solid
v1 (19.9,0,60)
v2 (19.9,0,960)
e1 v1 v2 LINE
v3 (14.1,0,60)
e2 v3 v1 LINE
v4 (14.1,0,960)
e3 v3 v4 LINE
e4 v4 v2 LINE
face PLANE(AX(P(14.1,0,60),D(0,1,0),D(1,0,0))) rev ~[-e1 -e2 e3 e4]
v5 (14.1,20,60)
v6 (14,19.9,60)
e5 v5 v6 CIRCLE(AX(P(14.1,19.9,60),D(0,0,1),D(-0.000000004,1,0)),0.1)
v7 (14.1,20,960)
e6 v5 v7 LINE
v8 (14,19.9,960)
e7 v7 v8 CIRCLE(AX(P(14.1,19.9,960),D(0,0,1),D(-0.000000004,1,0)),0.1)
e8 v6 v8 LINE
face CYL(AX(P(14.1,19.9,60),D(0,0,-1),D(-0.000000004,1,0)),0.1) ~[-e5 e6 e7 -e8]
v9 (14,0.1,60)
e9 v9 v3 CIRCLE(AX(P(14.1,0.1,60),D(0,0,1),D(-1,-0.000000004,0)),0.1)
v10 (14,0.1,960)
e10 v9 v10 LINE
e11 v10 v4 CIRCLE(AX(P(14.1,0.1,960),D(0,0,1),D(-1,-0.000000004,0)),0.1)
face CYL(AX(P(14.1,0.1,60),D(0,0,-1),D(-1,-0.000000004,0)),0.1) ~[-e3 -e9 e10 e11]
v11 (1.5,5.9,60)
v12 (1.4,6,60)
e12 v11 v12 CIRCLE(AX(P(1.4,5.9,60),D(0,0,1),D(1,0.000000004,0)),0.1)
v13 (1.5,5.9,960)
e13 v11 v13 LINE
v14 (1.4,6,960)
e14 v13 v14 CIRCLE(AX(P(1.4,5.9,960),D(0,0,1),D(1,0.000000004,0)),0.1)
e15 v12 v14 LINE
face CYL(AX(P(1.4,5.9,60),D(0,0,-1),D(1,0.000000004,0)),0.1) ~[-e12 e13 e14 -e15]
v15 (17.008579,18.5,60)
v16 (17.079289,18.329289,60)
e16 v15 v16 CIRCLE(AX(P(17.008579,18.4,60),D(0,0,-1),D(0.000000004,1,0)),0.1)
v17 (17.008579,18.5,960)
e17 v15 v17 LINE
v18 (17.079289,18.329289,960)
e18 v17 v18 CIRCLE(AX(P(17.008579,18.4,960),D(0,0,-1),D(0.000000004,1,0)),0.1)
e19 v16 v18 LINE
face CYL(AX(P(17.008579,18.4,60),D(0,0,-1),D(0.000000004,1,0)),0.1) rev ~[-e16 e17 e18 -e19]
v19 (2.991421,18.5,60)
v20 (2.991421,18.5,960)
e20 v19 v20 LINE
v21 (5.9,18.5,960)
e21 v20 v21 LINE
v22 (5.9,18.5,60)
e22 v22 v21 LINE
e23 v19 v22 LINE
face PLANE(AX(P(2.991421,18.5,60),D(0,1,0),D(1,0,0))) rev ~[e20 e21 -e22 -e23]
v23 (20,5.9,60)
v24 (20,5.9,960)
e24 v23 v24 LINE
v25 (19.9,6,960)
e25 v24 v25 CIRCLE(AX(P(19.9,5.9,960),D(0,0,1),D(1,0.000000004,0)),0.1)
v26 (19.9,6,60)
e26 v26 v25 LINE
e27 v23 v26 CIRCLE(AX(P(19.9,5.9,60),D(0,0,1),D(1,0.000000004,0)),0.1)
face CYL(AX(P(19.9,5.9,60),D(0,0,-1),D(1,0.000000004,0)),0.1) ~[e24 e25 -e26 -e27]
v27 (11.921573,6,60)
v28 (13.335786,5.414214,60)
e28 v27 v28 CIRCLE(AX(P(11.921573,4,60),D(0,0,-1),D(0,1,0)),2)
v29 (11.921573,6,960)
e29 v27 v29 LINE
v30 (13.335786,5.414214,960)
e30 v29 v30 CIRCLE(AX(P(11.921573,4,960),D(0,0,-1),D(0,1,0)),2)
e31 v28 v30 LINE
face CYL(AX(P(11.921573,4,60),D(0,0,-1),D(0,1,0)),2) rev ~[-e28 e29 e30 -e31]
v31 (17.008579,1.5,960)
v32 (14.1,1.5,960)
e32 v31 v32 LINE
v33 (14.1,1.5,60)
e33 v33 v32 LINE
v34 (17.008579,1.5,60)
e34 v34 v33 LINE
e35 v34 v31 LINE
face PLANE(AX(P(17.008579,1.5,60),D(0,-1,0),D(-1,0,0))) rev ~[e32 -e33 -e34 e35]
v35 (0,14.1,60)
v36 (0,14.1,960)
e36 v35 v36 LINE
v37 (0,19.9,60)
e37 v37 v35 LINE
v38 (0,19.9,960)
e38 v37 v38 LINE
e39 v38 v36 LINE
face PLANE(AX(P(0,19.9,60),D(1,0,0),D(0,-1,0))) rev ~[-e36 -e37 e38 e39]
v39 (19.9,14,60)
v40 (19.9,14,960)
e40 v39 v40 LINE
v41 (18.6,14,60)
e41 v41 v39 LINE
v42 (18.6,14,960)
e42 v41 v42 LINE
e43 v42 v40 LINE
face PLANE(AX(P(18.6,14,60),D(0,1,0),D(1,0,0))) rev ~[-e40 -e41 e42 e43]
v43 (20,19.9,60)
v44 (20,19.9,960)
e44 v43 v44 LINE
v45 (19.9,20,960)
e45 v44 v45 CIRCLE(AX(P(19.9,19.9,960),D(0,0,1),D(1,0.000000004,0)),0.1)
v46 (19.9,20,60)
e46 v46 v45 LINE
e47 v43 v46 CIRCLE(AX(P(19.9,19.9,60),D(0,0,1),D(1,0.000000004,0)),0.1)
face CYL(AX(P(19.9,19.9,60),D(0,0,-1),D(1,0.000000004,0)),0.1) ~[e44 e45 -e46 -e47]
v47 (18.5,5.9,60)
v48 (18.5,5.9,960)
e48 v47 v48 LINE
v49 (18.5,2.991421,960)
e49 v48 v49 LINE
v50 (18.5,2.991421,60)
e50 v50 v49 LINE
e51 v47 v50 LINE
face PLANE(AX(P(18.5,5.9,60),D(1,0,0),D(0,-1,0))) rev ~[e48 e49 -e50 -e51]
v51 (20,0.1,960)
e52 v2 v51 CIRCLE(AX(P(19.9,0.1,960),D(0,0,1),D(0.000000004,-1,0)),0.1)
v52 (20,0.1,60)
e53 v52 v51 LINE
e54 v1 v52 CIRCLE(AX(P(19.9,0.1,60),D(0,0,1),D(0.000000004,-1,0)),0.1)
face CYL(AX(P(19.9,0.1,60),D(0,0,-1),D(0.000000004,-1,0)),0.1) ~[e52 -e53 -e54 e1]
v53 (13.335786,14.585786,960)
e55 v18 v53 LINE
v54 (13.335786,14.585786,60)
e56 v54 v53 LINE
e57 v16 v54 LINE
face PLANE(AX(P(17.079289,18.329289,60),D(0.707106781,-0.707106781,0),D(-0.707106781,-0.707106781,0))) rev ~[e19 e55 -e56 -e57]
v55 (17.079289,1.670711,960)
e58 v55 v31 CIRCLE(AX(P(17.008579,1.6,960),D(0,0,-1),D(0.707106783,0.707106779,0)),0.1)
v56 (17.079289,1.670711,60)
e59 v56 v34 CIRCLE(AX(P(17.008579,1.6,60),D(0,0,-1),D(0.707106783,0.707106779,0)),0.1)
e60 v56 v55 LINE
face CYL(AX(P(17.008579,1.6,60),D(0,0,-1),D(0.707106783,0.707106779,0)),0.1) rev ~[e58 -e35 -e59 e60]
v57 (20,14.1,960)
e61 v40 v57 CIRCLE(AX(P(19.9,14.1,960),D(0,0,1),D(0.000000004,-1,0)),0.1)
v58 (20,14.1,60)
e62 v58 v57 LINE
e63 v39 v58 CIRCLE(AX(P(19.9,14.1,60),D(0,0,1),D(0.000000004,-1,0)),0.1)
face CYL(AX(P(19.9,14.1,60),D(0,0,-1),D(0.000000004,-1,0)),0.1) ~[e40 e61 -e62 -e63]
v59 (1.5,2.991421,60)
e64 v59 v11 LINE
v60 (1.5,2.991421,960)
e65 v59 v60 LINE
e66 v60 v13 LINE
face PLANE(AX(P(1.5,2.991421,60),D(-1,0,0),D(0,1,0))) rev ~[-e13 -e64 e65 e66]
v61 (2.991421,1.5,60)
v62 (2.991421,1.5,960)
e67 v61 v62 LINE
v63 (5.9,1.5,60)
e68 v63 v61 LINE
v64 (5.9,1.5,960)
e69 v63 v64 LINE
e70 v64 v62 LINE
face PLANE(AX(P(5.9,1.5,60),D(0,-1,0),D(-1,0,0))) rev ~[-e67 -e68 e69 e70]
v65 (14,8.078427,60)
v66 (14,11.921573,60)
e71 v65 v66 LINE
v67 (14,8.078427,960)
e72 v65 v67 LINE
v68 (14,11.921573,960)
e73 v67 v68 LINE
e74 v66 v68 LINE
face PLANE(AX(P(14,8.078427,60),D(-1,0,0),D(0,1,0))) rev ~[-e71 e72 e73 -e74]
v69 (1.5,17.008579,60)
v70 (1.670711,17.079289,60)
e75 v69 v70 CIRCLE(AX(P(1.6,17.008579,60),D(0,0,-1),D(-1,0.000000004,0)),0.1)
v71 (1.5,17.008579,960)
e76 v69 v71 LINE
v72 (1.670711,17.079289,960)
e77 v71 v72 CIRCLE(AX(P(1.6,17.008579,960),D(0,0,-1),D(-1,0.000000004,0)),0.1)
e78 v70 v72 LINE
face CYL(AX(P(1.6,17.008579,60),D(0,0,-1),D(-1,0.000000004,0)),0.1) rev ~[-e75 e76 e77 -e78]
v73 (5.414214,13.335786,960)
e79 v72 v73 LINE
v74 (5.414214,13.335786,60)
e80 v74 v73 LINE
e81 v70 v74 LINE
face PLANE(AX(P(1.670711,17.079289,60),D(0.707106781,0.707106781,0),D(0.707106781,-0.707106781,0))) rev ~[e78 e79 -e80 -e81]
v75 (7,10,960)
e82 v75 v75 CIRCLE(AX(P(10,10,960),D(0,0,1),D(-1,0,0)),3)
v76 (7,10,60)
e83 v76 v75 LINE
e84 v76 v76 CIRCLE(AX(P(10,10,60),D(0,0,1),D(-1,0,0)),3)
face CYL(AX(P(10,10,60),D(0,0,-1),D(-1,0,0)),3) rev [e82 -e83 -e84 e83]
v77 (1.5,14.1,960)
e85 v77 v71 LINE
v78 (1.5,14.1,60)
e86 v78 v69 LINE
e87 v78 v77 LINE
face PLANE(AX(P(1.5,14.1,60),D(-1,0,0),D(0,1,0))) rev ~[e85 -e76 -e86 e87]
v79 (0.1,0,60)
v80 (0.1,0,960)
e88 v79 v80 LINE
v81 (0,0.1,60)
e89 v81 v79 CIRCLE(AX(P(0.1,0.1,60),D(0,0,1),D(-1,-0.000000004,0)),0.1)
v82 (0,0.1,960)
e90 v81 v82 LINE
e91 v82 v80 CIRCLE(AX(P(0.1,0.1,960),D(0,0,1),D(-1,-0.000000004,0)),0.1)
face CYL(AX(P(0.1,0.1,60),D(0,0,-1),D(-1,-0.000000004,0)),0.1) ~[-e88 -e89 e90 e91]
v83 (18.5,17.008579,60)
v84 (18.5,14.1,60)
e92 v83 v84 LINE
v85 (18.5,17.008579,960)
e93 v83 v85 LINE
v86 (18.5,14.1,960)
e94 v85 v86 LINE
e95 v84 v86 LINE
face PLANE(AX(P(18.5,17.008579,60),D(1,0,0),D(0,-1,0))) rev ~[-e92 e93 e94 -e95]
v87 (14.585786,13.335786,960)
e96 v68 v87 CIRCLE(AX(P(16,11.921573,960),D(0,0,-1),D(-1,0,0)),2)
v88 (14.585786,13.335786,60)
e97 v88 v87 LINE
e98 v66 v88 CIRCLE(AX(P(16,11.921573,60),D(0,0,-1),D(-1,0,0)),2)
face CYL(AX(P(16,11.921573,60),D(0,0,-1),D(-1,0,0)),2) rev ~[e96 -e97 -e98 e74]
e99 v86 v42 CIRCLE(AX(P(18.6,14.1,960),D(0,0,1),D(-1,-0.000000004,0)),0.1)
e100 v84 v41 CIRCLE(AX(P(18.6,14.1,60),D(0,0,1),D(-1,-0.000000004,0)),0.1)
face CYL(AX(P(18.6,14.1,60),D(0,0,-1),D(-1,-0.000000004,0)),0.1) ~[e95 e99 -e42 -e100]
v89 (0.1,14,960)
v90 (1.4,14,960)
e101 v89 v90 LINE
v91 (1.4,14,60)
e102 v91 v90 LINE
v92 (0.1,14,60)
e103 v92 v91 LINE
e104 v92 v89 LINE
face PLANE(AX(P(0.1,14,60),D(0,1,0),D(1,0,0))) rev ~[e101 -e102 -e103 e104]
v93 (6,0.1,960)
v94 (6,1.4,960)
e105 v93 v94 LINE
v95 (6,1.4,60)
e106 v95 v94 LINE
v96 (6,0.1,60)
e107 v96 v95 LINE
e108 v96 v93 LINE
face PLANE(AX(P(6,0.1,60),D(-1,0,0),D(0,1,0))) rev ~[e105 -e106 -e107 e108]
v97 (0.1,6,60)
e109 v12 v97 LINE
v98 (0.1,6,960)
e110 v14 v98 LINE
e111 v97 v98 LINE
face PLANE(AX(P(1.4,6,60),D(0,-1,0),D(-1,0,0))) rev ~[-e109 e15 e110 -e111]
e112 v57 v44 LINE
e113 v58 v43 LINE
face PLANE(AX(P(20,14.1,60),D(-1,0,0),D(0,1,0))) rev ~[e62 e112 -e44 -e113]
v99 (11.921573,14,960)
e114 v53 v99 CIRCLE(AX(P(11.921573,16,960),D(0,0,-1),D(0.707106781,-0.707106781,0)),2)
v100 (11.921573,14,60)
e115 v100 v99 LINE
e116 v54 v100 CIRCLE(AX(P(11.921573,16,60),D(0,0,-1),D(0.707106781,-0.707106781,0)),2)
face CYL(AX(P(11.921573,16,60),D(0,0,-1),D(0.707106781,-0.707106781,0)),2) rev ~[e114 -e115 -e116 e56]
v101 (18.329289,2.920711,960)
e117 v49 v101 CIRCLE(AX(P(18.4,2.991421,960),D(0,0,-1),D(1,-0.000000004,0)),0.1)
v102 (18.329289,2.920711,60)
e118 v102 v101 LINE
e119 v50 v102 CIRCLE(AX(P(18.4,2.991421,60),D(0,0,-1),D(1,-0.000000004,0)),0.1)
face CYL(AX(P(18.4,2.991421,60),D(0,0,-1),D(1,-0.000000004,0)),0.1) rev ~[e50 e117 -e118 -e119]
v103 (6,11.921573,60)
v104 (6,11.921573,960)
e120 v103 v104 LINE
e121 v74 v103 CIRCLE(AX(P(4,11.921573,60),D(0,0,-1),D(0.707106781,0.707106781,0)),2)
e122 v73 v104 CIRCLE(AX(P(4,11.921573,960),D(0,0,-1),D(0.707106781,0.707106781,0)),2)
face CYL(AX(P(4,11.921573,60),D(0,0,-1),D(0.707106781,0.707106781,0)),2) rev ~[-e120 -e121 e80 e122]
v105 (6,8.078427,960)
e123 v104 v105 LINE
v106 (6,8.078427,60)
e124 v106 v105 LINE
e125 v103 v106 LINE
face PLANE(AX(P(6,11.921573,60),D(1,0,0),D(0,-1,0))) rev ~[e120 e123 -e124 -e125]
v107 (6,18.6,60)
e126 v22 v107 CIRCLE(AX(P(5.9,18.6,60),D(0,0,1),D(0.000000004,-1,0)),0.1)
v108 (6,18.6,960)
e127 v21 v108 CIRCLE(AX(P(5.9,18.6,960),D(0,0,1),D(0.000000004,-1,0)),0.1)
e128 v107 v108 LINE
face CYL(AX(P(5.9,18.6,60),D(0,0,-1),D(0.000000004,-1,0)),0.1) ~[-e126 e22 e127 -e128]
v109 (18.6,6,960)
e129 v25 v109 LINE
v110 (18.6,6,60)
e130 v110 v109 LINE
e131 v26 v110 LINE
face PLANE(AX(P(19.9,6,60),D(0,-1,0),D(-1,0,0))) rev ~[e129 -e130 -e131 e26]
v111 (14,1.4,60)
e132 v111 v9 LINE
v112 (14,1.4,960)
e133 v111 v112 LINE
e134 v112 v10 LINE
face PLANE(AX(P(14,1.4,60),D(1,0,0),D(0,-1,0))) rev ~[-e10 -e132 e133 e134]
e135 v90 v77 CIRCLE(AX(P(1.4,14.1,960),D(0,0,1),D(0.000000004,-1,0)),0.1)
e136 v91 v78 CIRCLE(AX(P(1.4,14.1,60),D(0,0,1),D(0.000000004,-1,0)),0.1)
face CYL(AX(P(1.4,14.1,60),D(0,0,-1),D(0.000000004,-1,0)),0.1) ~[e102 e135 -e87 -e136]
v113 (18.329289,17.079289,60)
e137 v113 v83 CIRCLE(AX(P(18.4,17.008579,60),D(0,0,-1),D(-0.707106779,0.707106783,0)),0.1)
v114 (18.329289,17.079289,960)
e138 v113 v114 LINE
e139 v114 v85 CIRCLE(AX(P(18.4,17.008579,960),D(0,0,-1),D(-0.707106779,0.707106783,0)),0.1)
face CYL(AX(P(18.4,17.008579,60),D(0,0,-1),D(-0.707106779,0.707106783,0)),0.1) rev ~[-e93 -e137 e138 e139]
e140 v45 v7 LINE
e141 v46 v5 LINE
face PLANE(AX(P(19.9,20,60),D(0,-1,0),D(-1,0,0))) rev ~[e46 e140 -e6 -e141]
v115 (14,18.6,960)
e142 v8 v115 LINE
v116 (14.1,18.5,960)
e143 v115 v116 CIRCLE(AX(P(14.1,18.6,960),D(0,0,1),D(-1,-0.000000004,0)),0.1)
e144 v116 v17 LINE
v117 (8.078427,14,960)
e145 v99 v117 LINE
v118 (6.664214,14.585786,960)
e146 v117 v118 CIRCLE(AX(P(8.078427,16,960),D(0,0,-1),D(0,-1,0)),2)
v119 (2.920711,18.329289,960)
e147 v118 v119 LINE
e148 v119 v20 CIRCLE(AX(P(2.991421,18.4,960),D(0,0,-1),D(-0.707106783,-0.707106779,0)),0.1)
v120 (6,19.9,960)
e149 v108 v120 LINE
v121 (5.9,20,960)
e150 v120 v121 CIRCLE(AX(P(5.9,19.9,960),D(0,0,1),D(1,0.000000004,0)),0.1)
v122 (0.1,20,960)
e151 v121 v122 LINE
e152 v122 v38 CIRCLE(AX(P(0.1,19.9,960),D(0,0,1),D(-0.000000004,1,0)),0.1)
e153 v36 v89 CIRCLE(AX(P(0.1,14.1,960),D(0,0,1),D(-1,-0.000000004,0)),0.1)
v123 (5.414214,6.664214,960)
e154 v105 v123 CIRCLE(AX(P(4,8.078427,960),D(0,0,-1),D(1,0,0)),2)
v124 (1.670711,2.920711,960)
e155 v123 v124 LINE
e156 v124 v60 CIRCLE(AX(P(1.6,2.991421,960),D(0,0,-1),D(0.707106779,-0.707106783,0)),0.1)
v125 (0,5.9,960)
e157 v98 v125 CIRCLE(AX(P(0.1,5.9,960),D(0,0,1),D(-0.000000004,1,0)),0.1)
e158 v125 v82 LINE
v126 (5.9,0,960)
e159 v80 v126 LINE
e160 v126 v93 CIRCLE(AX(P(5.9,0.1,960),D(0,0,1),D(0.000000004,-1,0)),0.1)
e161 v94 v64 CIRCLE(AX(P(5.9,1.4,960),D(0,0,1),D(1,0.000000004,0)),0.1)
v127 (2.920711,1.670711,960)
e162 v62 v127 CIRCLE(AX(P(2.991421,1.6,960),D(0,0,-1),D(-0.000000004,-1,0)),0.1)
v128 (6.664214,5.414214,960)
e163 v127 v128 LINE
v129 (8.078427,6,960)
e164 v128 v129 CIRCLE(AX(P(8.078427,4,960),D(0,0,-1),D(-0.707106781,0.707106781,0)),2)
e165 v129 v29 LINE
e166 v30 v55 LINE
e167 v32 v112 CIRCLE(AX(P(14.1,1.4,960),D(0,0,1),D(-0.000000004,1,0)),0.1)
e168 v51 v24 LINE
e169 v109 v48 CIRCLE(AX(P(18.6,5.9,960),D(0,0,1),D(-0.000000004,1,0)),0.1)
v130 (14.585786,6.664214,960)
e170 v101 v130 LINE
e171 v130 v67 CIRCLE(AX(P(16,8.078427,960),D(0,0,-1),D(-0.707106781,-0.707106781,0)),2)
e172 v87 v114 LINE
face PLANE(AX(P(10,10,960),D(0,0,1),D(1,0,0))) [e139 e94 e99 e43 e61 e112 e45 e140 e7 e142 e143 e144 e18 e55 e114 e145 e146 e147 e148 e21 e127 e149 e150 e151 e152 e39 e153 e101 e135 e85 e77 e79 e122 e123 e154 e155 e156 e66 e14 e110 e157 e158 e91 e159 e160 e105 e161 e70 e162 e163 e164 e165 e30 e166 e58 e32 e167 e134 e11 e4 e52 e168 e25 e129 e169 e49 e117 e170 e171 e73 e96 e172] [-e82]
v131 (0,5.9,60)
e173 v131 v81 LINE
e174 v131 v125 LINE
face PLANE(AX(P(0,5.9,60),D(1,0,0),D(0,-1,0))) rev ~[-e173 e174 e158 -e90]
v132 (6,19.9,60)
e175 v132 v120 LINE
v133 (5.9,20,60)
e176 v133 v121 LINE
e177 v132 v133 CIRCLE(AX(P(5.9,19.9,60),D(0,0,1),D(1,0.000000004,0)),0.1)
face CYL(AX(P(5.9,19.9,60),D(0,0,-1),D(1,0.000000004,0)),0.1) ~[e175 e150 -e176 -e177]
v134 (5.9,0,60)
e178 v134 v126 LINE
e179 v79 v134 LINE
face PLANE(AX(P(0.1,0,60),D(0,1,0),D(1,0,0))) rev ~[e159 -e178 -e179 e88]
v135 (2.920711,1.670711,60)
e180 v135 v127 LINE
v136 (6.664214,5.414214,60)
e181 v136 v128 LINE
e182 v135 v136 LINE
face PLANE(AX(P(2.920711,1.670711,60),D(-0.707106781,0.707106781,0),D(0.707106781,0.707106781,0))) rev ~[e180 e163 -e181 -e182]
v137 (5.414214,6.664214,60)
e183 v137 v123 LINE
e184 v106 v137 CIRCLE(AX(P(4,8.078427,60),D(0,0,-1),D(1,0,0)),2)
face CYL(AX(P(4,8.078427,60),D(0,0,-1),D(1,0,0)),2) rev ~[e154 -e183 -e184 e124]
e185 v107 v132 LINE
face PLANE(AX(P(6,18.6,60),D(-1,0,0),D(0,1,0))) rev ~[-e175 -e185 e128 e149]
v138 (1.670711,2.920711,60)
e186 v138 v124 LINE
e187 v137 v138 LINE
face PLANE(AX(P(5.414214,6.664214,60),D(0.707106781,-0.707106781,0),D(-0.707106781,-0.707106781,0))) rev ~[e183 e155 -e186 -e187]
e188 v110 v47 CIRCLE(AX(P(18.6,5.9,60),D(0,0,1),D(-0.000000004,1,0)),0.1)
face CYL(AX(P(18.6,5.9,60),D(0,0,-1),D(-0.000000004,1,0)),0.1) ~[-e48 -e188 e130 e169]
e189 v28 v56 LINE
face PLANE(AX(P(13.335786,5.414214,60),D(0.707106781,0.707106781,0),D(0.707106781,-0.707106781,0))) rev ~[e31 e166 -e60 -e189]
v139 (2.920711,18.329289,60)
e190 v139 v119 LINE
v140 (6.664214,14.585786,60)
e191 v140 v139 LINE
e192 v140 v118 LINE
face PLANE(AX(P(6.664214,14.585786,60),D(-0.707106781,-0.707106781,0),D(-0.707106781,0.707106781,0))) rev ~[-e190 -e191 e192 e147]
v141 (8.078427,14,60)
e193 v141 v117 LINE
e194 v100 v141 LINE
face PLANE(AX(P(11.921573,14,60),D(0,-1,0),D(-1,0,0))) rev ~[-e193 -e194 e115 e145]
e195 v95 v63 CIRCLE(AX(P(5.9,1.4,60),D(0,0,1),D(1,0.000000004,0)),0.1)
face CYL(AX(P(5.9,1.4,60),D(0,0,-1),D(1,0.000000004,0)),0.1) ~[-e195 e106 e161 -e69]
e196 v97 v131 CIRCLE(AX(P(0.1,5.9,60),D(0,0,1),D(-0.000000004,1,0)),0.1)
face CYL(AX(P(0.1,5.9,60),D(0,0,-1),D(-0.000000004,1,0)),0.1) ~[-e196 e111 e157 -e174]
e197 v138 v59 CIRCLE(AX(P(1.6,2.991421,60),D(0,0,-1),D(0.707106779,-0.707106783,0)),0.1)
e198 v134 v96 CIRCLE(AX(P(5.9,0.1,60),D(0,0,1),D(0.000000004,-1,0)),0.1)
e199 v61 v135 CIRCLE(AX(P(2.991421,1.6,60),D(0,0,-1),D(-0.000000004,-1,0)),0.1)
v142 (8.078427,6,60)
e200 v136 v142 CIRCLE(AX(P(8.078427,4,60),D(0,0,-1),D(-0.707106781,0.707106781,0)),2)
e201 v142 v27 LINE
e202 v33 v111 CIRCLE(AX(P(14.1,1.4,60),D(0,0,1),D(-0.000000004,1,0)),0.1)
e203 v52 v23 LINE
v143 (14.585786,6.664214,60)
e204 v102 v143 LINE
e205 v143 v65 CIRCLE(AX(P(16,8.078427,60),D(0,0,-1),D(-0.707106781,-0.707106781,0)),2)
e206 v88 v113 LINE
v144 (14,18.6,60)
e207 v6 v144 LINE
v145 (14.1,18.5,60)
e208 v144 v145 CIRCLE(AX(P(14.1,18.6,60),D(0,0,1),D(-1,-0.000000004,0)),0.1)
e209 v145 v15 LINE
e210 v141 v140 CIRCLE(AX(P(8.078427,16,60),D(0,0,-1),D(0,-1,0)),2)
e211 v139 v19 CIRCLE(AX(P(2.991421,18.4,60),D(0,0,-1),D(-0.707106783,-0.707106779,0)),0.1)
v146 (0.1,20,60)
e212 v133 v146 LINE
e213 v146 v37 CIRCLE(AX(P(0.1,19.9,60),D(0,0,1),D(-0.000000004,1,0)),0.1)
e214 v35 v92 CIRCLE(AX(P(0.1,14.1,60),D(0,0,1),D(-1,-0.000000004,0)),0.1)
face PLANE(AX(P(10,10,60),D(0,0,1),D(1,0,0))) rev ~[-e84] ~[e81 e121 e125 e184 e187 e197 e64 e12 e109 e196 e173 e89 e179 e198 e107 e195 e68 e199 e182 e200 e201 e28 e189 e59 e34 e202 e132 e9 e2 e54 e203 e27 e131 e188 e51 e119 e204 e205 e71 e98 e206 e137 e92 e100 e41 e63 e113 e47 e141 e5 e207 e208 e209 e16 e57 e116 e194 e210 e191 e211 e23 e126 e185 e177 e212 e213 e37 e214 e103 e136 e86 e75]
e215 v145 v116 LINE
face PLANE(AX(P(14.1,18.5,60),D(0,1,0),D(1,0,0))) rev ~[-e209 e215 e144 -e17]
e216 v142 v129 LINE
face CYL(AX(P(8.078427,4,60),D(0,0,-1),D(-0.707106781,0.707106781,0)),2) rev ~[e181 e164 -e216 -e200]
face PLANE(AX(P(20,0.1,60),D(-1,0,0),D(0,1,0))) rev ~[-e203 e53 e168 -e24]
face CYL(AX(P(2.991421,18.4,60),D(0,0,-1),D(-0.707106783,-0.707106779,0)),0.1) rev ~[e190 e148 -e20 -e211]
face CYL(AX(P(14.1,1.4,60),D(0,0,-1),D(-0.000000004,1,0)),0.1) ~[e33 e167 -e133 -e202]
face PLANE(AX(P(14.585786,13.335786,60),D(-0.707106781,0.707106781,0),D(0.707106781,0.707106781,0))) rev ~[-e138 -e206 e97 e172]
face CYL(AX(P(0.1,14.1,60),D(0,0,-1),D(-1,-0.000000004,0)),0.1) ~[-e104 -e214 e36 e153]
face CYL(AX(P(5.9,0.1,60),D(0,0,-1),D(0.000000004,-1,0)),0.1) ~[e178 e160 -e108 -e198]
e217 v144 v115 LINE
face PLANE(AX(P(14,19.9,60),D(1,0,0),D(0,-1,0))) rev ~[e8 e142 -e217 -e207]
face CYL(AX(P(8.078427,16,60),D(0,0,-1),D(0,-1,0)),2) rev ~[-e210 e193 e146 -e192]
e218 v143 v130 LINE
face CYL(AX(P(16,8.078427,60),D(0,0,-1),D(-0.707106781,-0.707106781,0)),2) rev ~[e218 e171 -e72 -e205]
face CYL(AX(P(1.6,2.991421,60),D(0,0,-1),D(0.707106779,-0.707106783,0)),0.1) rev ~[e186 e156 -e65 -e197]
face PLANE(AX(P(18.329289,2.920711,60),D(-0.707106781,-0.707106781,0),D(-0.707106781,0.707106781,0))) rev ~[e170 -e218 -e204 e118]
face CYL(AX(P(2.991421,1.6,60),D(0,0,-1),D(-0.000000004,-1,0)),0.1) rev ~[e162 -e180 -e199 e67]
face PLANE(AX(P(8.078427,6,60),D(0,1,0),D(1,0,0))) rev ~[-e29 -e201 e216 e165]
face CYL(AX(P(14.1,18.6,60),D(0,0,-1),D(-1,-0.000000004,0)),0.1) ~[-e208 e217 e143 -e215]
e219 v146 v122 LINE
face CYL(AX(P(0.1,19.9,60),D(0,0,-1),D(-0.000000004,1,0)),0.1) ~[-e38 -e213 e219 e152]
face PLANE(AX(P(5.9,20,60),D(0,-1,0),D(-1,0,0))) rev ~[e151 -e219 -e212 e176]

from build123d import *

# Parameters (mm, degrees)
SKETCH1_R           = 3
BOSS_EXTRUDE2_DEPTH = 900


with BuildPart() as part:
    # Sketch1 → Boss-Extrude2 (new body)
    with BuildSketch(Plane.XY.offset(60)):
        with BuildLine():
            Line((18.5, 17.008578644), (18.5, 14.1))
            ThreePointArc((18.5, 14.1), (18.529289322, 14.029289322), (18.6, 14))
            Line((18.6, 14), (19.9, 14))
            ThreePointArc((19.9, 14), (19.970710678, 14.029289322), (20, 14.1))
            Line((20, 14.1), (20, 19.9))
            ThreePointArc((20, 19.9), (19.970710678, 19.970710678), (19.9, 20))
            Line((19.9, 20), (14.1, 20))
            ThreePointArc((14.1, 20), (14.029289322, 19.970710678), (14, 19.9))
            Line((14, 19.9), (14, 18.6))
            ThreePointArc((14, 18.6), (14.029289322, 18.529289322), (14.1, 18.5))
            Line((14.1, 18.5), (17.008578644, 18.5))
            ThreePointArc((17.008578644, 18.5), (17.100966597, 18.438268343), (17.079289322, 18.329289322))
            Line((17.079289322, 18.329289322), (13.335786438, 14.585786438))
            ThreePointArc((13.335786438, 14.585786438), (12.68693974, 14.152240935), (11.921572875, 14))
            Line((11.921572875, 14), (8.078427125, 14))
            ThreePointArc((8.078427125, 14), (7.31306026, 14.152240935), (6.664213562, 14.585786438))
            Line((6.664213562, 14.585786438), (2.920710678, 18.329289322))
            ThreePointArc((2.920710678, 18.329289322), (2.899033403, 18.438268343), (2.991421356, 18.5))
            Line((2.991421356, 18.5), (5.9, 18.5))
            ThreePointArc((5.9, 18.5), (5.970710678, 18.529289322), (6, 18.6))
            Line((6, 18.6), (6, 19.9))
            ThreePointArc((6, 19.9), (5.970710678, 19.970710678), (5.9, 20))
            Line((5.9, 20), (0.1, 20))
            ThreePointArc((0.1, 20), (0.029289322, 19.970710678), (0, 19.9))
            Line((0, 19.9), (0, 14.1))
            ThreePointArc((0, 14.1), (0.029289322, 14.029289322), (0.1, 14))
            Line((0.1, 14), (1.4, 14))
            ThreePointArc((1.4, 14), (1.470710678, 14.029289322), (1.5, 14.1))
            Line((1.5, 14.1), (1.5, 17.008578644))
            ThreePointArc((1.5, 17.008578644), (1.561731657, 17.100966597), (1.670710678, 17.079289322))
            Line((1.670710678, 17.079289322), (5.414213562, 13.335786438))
            ThreePointArc((5.414213562, 13.335786438), (5.847759065, 12.68693974), (6, 11.921572875))
            Line((6, 11.921572875), (6, 8.078427125))
            ThreePointArc((6, 8.078427125), (5.847759065, 7.31306026), (5.414213562, 6.664213562))
            Line((5.414213562, 6.664213562), (1.670710678, 2.920710678))
            ThreePointArc((1.670710678, 2.920710678), (1.561731657, 2.899033403), (1.5, 2.991421356))
            Line((1.5, 2.991421356), (1.5, 5.9))
            ThreePointArc((1.5, 5.9), (1.470710678, 5.970710678), (1.4, 6))
            Line((1.4, 6), (0.1, 6))
            ThreePointArc((0.1, 6), (0.029289322, 5.970710678), (0, 5.9))
            Line((0, 5.9), (0, 0.1))
            ThreePointArc((0, 0.1), (0.029289322, 0.029289322), (0.1, 0))
            Line((0.1, 0), (5.9, 0))
            ThreePointArc((5.9, 0), (5.970710678, 0.029289322), (6, 0.1))
            Line((6, 0.1), (6, 1.4))
            ThreePointArc((6, 1.4), (5.970710678, 1.470710678), (5.9, 1.5))
            Line((5.9, 1.5), (2.991421356, 1.5))
            ThreePointArc((2.991421356, 1.5), (2.899033403, 1.561731657), (2.920710678, 1.670710678))
            Line((2.920710678, 1.670710678), (6.664213562, 5.414213562))
            ThreePointArc((6.664213562, 5.414213562), (7.31306026, 5.847759065), (8.078427125, 6))
            Line((8.078427125, 6), (11.921572875, 6))
            ThreePointArc((11.921572875, 6), (12.68693974, 5.847759065), (13.335786438, 5.414213562))
            Line((13.335786438, 5.414213562), (17.079289322, 1.670710678))
            ThreePointArc((17.079289322, 1.670710678), (17.100966597, 1.561731657), (17.008578644, 1.5))
            Line((17.008578644, 1.5), (14.1, 1.5))
            ThreePointArc((14.1, 1.5), (14.029289322, 1.470710678), (14, 1.4))
            Line((14, 1.4), (14, 0.1))
            ThreePointArc((14, 0.1), (14.029289322, 0.029289322), (14.1, 0))
            Line((14.1, 0), (19.9, 0))
            ThreePointArc((19.9, 0), (19.970710678, 0.029289322), (20, 0.1))
            Line((20, 0.1), (20, 5.9))
            ThreePointArc((20, 5.9), (19.970710678, 5.970710678), (19.9, 6))
            Line((19.9, 6), (18.6, 6))
            ThreePointArc((18.6, 6), (18.529289322, 5.970710678), (18.5, 5.9))
            Line((18.5, 5.9), (18.5, 2.991421356))
            ThreePointArc((18.5, 2.991421356), (18.438268343, 2.899033403), (18.329289322, 2.920710678))
            Line((18.329289322, 2.920710678), (14.585786438, 6.664213562))
            ThreePointArc((14.585786438, 6.664213562), (14.152240935, 7.31306026), (14, 8.078427125))
            Line((14, 8.078427125), (14, 11.921572875))
            ThreePointArc((14, 11.921572875), (14.152240935, 12.68693974), (14.585786438, 13.335786438))
            Line((14.585786438, 13.335786438), (18.329289322, 17.079289322))
            ThreePointArc((18.329289322, 17.079289322), (18.438268343, 17.100966597), (18.5, 17.008578644))
        make_face()
        with Locations(Location((10, 10, 0), (0, 0, 180))):
            Circle(SKETCH1_R, mode=Mode.SUBTRACT)
    extrude(amount=BOSS_EXTRUDE2_DEPTH)


solid = part.part
